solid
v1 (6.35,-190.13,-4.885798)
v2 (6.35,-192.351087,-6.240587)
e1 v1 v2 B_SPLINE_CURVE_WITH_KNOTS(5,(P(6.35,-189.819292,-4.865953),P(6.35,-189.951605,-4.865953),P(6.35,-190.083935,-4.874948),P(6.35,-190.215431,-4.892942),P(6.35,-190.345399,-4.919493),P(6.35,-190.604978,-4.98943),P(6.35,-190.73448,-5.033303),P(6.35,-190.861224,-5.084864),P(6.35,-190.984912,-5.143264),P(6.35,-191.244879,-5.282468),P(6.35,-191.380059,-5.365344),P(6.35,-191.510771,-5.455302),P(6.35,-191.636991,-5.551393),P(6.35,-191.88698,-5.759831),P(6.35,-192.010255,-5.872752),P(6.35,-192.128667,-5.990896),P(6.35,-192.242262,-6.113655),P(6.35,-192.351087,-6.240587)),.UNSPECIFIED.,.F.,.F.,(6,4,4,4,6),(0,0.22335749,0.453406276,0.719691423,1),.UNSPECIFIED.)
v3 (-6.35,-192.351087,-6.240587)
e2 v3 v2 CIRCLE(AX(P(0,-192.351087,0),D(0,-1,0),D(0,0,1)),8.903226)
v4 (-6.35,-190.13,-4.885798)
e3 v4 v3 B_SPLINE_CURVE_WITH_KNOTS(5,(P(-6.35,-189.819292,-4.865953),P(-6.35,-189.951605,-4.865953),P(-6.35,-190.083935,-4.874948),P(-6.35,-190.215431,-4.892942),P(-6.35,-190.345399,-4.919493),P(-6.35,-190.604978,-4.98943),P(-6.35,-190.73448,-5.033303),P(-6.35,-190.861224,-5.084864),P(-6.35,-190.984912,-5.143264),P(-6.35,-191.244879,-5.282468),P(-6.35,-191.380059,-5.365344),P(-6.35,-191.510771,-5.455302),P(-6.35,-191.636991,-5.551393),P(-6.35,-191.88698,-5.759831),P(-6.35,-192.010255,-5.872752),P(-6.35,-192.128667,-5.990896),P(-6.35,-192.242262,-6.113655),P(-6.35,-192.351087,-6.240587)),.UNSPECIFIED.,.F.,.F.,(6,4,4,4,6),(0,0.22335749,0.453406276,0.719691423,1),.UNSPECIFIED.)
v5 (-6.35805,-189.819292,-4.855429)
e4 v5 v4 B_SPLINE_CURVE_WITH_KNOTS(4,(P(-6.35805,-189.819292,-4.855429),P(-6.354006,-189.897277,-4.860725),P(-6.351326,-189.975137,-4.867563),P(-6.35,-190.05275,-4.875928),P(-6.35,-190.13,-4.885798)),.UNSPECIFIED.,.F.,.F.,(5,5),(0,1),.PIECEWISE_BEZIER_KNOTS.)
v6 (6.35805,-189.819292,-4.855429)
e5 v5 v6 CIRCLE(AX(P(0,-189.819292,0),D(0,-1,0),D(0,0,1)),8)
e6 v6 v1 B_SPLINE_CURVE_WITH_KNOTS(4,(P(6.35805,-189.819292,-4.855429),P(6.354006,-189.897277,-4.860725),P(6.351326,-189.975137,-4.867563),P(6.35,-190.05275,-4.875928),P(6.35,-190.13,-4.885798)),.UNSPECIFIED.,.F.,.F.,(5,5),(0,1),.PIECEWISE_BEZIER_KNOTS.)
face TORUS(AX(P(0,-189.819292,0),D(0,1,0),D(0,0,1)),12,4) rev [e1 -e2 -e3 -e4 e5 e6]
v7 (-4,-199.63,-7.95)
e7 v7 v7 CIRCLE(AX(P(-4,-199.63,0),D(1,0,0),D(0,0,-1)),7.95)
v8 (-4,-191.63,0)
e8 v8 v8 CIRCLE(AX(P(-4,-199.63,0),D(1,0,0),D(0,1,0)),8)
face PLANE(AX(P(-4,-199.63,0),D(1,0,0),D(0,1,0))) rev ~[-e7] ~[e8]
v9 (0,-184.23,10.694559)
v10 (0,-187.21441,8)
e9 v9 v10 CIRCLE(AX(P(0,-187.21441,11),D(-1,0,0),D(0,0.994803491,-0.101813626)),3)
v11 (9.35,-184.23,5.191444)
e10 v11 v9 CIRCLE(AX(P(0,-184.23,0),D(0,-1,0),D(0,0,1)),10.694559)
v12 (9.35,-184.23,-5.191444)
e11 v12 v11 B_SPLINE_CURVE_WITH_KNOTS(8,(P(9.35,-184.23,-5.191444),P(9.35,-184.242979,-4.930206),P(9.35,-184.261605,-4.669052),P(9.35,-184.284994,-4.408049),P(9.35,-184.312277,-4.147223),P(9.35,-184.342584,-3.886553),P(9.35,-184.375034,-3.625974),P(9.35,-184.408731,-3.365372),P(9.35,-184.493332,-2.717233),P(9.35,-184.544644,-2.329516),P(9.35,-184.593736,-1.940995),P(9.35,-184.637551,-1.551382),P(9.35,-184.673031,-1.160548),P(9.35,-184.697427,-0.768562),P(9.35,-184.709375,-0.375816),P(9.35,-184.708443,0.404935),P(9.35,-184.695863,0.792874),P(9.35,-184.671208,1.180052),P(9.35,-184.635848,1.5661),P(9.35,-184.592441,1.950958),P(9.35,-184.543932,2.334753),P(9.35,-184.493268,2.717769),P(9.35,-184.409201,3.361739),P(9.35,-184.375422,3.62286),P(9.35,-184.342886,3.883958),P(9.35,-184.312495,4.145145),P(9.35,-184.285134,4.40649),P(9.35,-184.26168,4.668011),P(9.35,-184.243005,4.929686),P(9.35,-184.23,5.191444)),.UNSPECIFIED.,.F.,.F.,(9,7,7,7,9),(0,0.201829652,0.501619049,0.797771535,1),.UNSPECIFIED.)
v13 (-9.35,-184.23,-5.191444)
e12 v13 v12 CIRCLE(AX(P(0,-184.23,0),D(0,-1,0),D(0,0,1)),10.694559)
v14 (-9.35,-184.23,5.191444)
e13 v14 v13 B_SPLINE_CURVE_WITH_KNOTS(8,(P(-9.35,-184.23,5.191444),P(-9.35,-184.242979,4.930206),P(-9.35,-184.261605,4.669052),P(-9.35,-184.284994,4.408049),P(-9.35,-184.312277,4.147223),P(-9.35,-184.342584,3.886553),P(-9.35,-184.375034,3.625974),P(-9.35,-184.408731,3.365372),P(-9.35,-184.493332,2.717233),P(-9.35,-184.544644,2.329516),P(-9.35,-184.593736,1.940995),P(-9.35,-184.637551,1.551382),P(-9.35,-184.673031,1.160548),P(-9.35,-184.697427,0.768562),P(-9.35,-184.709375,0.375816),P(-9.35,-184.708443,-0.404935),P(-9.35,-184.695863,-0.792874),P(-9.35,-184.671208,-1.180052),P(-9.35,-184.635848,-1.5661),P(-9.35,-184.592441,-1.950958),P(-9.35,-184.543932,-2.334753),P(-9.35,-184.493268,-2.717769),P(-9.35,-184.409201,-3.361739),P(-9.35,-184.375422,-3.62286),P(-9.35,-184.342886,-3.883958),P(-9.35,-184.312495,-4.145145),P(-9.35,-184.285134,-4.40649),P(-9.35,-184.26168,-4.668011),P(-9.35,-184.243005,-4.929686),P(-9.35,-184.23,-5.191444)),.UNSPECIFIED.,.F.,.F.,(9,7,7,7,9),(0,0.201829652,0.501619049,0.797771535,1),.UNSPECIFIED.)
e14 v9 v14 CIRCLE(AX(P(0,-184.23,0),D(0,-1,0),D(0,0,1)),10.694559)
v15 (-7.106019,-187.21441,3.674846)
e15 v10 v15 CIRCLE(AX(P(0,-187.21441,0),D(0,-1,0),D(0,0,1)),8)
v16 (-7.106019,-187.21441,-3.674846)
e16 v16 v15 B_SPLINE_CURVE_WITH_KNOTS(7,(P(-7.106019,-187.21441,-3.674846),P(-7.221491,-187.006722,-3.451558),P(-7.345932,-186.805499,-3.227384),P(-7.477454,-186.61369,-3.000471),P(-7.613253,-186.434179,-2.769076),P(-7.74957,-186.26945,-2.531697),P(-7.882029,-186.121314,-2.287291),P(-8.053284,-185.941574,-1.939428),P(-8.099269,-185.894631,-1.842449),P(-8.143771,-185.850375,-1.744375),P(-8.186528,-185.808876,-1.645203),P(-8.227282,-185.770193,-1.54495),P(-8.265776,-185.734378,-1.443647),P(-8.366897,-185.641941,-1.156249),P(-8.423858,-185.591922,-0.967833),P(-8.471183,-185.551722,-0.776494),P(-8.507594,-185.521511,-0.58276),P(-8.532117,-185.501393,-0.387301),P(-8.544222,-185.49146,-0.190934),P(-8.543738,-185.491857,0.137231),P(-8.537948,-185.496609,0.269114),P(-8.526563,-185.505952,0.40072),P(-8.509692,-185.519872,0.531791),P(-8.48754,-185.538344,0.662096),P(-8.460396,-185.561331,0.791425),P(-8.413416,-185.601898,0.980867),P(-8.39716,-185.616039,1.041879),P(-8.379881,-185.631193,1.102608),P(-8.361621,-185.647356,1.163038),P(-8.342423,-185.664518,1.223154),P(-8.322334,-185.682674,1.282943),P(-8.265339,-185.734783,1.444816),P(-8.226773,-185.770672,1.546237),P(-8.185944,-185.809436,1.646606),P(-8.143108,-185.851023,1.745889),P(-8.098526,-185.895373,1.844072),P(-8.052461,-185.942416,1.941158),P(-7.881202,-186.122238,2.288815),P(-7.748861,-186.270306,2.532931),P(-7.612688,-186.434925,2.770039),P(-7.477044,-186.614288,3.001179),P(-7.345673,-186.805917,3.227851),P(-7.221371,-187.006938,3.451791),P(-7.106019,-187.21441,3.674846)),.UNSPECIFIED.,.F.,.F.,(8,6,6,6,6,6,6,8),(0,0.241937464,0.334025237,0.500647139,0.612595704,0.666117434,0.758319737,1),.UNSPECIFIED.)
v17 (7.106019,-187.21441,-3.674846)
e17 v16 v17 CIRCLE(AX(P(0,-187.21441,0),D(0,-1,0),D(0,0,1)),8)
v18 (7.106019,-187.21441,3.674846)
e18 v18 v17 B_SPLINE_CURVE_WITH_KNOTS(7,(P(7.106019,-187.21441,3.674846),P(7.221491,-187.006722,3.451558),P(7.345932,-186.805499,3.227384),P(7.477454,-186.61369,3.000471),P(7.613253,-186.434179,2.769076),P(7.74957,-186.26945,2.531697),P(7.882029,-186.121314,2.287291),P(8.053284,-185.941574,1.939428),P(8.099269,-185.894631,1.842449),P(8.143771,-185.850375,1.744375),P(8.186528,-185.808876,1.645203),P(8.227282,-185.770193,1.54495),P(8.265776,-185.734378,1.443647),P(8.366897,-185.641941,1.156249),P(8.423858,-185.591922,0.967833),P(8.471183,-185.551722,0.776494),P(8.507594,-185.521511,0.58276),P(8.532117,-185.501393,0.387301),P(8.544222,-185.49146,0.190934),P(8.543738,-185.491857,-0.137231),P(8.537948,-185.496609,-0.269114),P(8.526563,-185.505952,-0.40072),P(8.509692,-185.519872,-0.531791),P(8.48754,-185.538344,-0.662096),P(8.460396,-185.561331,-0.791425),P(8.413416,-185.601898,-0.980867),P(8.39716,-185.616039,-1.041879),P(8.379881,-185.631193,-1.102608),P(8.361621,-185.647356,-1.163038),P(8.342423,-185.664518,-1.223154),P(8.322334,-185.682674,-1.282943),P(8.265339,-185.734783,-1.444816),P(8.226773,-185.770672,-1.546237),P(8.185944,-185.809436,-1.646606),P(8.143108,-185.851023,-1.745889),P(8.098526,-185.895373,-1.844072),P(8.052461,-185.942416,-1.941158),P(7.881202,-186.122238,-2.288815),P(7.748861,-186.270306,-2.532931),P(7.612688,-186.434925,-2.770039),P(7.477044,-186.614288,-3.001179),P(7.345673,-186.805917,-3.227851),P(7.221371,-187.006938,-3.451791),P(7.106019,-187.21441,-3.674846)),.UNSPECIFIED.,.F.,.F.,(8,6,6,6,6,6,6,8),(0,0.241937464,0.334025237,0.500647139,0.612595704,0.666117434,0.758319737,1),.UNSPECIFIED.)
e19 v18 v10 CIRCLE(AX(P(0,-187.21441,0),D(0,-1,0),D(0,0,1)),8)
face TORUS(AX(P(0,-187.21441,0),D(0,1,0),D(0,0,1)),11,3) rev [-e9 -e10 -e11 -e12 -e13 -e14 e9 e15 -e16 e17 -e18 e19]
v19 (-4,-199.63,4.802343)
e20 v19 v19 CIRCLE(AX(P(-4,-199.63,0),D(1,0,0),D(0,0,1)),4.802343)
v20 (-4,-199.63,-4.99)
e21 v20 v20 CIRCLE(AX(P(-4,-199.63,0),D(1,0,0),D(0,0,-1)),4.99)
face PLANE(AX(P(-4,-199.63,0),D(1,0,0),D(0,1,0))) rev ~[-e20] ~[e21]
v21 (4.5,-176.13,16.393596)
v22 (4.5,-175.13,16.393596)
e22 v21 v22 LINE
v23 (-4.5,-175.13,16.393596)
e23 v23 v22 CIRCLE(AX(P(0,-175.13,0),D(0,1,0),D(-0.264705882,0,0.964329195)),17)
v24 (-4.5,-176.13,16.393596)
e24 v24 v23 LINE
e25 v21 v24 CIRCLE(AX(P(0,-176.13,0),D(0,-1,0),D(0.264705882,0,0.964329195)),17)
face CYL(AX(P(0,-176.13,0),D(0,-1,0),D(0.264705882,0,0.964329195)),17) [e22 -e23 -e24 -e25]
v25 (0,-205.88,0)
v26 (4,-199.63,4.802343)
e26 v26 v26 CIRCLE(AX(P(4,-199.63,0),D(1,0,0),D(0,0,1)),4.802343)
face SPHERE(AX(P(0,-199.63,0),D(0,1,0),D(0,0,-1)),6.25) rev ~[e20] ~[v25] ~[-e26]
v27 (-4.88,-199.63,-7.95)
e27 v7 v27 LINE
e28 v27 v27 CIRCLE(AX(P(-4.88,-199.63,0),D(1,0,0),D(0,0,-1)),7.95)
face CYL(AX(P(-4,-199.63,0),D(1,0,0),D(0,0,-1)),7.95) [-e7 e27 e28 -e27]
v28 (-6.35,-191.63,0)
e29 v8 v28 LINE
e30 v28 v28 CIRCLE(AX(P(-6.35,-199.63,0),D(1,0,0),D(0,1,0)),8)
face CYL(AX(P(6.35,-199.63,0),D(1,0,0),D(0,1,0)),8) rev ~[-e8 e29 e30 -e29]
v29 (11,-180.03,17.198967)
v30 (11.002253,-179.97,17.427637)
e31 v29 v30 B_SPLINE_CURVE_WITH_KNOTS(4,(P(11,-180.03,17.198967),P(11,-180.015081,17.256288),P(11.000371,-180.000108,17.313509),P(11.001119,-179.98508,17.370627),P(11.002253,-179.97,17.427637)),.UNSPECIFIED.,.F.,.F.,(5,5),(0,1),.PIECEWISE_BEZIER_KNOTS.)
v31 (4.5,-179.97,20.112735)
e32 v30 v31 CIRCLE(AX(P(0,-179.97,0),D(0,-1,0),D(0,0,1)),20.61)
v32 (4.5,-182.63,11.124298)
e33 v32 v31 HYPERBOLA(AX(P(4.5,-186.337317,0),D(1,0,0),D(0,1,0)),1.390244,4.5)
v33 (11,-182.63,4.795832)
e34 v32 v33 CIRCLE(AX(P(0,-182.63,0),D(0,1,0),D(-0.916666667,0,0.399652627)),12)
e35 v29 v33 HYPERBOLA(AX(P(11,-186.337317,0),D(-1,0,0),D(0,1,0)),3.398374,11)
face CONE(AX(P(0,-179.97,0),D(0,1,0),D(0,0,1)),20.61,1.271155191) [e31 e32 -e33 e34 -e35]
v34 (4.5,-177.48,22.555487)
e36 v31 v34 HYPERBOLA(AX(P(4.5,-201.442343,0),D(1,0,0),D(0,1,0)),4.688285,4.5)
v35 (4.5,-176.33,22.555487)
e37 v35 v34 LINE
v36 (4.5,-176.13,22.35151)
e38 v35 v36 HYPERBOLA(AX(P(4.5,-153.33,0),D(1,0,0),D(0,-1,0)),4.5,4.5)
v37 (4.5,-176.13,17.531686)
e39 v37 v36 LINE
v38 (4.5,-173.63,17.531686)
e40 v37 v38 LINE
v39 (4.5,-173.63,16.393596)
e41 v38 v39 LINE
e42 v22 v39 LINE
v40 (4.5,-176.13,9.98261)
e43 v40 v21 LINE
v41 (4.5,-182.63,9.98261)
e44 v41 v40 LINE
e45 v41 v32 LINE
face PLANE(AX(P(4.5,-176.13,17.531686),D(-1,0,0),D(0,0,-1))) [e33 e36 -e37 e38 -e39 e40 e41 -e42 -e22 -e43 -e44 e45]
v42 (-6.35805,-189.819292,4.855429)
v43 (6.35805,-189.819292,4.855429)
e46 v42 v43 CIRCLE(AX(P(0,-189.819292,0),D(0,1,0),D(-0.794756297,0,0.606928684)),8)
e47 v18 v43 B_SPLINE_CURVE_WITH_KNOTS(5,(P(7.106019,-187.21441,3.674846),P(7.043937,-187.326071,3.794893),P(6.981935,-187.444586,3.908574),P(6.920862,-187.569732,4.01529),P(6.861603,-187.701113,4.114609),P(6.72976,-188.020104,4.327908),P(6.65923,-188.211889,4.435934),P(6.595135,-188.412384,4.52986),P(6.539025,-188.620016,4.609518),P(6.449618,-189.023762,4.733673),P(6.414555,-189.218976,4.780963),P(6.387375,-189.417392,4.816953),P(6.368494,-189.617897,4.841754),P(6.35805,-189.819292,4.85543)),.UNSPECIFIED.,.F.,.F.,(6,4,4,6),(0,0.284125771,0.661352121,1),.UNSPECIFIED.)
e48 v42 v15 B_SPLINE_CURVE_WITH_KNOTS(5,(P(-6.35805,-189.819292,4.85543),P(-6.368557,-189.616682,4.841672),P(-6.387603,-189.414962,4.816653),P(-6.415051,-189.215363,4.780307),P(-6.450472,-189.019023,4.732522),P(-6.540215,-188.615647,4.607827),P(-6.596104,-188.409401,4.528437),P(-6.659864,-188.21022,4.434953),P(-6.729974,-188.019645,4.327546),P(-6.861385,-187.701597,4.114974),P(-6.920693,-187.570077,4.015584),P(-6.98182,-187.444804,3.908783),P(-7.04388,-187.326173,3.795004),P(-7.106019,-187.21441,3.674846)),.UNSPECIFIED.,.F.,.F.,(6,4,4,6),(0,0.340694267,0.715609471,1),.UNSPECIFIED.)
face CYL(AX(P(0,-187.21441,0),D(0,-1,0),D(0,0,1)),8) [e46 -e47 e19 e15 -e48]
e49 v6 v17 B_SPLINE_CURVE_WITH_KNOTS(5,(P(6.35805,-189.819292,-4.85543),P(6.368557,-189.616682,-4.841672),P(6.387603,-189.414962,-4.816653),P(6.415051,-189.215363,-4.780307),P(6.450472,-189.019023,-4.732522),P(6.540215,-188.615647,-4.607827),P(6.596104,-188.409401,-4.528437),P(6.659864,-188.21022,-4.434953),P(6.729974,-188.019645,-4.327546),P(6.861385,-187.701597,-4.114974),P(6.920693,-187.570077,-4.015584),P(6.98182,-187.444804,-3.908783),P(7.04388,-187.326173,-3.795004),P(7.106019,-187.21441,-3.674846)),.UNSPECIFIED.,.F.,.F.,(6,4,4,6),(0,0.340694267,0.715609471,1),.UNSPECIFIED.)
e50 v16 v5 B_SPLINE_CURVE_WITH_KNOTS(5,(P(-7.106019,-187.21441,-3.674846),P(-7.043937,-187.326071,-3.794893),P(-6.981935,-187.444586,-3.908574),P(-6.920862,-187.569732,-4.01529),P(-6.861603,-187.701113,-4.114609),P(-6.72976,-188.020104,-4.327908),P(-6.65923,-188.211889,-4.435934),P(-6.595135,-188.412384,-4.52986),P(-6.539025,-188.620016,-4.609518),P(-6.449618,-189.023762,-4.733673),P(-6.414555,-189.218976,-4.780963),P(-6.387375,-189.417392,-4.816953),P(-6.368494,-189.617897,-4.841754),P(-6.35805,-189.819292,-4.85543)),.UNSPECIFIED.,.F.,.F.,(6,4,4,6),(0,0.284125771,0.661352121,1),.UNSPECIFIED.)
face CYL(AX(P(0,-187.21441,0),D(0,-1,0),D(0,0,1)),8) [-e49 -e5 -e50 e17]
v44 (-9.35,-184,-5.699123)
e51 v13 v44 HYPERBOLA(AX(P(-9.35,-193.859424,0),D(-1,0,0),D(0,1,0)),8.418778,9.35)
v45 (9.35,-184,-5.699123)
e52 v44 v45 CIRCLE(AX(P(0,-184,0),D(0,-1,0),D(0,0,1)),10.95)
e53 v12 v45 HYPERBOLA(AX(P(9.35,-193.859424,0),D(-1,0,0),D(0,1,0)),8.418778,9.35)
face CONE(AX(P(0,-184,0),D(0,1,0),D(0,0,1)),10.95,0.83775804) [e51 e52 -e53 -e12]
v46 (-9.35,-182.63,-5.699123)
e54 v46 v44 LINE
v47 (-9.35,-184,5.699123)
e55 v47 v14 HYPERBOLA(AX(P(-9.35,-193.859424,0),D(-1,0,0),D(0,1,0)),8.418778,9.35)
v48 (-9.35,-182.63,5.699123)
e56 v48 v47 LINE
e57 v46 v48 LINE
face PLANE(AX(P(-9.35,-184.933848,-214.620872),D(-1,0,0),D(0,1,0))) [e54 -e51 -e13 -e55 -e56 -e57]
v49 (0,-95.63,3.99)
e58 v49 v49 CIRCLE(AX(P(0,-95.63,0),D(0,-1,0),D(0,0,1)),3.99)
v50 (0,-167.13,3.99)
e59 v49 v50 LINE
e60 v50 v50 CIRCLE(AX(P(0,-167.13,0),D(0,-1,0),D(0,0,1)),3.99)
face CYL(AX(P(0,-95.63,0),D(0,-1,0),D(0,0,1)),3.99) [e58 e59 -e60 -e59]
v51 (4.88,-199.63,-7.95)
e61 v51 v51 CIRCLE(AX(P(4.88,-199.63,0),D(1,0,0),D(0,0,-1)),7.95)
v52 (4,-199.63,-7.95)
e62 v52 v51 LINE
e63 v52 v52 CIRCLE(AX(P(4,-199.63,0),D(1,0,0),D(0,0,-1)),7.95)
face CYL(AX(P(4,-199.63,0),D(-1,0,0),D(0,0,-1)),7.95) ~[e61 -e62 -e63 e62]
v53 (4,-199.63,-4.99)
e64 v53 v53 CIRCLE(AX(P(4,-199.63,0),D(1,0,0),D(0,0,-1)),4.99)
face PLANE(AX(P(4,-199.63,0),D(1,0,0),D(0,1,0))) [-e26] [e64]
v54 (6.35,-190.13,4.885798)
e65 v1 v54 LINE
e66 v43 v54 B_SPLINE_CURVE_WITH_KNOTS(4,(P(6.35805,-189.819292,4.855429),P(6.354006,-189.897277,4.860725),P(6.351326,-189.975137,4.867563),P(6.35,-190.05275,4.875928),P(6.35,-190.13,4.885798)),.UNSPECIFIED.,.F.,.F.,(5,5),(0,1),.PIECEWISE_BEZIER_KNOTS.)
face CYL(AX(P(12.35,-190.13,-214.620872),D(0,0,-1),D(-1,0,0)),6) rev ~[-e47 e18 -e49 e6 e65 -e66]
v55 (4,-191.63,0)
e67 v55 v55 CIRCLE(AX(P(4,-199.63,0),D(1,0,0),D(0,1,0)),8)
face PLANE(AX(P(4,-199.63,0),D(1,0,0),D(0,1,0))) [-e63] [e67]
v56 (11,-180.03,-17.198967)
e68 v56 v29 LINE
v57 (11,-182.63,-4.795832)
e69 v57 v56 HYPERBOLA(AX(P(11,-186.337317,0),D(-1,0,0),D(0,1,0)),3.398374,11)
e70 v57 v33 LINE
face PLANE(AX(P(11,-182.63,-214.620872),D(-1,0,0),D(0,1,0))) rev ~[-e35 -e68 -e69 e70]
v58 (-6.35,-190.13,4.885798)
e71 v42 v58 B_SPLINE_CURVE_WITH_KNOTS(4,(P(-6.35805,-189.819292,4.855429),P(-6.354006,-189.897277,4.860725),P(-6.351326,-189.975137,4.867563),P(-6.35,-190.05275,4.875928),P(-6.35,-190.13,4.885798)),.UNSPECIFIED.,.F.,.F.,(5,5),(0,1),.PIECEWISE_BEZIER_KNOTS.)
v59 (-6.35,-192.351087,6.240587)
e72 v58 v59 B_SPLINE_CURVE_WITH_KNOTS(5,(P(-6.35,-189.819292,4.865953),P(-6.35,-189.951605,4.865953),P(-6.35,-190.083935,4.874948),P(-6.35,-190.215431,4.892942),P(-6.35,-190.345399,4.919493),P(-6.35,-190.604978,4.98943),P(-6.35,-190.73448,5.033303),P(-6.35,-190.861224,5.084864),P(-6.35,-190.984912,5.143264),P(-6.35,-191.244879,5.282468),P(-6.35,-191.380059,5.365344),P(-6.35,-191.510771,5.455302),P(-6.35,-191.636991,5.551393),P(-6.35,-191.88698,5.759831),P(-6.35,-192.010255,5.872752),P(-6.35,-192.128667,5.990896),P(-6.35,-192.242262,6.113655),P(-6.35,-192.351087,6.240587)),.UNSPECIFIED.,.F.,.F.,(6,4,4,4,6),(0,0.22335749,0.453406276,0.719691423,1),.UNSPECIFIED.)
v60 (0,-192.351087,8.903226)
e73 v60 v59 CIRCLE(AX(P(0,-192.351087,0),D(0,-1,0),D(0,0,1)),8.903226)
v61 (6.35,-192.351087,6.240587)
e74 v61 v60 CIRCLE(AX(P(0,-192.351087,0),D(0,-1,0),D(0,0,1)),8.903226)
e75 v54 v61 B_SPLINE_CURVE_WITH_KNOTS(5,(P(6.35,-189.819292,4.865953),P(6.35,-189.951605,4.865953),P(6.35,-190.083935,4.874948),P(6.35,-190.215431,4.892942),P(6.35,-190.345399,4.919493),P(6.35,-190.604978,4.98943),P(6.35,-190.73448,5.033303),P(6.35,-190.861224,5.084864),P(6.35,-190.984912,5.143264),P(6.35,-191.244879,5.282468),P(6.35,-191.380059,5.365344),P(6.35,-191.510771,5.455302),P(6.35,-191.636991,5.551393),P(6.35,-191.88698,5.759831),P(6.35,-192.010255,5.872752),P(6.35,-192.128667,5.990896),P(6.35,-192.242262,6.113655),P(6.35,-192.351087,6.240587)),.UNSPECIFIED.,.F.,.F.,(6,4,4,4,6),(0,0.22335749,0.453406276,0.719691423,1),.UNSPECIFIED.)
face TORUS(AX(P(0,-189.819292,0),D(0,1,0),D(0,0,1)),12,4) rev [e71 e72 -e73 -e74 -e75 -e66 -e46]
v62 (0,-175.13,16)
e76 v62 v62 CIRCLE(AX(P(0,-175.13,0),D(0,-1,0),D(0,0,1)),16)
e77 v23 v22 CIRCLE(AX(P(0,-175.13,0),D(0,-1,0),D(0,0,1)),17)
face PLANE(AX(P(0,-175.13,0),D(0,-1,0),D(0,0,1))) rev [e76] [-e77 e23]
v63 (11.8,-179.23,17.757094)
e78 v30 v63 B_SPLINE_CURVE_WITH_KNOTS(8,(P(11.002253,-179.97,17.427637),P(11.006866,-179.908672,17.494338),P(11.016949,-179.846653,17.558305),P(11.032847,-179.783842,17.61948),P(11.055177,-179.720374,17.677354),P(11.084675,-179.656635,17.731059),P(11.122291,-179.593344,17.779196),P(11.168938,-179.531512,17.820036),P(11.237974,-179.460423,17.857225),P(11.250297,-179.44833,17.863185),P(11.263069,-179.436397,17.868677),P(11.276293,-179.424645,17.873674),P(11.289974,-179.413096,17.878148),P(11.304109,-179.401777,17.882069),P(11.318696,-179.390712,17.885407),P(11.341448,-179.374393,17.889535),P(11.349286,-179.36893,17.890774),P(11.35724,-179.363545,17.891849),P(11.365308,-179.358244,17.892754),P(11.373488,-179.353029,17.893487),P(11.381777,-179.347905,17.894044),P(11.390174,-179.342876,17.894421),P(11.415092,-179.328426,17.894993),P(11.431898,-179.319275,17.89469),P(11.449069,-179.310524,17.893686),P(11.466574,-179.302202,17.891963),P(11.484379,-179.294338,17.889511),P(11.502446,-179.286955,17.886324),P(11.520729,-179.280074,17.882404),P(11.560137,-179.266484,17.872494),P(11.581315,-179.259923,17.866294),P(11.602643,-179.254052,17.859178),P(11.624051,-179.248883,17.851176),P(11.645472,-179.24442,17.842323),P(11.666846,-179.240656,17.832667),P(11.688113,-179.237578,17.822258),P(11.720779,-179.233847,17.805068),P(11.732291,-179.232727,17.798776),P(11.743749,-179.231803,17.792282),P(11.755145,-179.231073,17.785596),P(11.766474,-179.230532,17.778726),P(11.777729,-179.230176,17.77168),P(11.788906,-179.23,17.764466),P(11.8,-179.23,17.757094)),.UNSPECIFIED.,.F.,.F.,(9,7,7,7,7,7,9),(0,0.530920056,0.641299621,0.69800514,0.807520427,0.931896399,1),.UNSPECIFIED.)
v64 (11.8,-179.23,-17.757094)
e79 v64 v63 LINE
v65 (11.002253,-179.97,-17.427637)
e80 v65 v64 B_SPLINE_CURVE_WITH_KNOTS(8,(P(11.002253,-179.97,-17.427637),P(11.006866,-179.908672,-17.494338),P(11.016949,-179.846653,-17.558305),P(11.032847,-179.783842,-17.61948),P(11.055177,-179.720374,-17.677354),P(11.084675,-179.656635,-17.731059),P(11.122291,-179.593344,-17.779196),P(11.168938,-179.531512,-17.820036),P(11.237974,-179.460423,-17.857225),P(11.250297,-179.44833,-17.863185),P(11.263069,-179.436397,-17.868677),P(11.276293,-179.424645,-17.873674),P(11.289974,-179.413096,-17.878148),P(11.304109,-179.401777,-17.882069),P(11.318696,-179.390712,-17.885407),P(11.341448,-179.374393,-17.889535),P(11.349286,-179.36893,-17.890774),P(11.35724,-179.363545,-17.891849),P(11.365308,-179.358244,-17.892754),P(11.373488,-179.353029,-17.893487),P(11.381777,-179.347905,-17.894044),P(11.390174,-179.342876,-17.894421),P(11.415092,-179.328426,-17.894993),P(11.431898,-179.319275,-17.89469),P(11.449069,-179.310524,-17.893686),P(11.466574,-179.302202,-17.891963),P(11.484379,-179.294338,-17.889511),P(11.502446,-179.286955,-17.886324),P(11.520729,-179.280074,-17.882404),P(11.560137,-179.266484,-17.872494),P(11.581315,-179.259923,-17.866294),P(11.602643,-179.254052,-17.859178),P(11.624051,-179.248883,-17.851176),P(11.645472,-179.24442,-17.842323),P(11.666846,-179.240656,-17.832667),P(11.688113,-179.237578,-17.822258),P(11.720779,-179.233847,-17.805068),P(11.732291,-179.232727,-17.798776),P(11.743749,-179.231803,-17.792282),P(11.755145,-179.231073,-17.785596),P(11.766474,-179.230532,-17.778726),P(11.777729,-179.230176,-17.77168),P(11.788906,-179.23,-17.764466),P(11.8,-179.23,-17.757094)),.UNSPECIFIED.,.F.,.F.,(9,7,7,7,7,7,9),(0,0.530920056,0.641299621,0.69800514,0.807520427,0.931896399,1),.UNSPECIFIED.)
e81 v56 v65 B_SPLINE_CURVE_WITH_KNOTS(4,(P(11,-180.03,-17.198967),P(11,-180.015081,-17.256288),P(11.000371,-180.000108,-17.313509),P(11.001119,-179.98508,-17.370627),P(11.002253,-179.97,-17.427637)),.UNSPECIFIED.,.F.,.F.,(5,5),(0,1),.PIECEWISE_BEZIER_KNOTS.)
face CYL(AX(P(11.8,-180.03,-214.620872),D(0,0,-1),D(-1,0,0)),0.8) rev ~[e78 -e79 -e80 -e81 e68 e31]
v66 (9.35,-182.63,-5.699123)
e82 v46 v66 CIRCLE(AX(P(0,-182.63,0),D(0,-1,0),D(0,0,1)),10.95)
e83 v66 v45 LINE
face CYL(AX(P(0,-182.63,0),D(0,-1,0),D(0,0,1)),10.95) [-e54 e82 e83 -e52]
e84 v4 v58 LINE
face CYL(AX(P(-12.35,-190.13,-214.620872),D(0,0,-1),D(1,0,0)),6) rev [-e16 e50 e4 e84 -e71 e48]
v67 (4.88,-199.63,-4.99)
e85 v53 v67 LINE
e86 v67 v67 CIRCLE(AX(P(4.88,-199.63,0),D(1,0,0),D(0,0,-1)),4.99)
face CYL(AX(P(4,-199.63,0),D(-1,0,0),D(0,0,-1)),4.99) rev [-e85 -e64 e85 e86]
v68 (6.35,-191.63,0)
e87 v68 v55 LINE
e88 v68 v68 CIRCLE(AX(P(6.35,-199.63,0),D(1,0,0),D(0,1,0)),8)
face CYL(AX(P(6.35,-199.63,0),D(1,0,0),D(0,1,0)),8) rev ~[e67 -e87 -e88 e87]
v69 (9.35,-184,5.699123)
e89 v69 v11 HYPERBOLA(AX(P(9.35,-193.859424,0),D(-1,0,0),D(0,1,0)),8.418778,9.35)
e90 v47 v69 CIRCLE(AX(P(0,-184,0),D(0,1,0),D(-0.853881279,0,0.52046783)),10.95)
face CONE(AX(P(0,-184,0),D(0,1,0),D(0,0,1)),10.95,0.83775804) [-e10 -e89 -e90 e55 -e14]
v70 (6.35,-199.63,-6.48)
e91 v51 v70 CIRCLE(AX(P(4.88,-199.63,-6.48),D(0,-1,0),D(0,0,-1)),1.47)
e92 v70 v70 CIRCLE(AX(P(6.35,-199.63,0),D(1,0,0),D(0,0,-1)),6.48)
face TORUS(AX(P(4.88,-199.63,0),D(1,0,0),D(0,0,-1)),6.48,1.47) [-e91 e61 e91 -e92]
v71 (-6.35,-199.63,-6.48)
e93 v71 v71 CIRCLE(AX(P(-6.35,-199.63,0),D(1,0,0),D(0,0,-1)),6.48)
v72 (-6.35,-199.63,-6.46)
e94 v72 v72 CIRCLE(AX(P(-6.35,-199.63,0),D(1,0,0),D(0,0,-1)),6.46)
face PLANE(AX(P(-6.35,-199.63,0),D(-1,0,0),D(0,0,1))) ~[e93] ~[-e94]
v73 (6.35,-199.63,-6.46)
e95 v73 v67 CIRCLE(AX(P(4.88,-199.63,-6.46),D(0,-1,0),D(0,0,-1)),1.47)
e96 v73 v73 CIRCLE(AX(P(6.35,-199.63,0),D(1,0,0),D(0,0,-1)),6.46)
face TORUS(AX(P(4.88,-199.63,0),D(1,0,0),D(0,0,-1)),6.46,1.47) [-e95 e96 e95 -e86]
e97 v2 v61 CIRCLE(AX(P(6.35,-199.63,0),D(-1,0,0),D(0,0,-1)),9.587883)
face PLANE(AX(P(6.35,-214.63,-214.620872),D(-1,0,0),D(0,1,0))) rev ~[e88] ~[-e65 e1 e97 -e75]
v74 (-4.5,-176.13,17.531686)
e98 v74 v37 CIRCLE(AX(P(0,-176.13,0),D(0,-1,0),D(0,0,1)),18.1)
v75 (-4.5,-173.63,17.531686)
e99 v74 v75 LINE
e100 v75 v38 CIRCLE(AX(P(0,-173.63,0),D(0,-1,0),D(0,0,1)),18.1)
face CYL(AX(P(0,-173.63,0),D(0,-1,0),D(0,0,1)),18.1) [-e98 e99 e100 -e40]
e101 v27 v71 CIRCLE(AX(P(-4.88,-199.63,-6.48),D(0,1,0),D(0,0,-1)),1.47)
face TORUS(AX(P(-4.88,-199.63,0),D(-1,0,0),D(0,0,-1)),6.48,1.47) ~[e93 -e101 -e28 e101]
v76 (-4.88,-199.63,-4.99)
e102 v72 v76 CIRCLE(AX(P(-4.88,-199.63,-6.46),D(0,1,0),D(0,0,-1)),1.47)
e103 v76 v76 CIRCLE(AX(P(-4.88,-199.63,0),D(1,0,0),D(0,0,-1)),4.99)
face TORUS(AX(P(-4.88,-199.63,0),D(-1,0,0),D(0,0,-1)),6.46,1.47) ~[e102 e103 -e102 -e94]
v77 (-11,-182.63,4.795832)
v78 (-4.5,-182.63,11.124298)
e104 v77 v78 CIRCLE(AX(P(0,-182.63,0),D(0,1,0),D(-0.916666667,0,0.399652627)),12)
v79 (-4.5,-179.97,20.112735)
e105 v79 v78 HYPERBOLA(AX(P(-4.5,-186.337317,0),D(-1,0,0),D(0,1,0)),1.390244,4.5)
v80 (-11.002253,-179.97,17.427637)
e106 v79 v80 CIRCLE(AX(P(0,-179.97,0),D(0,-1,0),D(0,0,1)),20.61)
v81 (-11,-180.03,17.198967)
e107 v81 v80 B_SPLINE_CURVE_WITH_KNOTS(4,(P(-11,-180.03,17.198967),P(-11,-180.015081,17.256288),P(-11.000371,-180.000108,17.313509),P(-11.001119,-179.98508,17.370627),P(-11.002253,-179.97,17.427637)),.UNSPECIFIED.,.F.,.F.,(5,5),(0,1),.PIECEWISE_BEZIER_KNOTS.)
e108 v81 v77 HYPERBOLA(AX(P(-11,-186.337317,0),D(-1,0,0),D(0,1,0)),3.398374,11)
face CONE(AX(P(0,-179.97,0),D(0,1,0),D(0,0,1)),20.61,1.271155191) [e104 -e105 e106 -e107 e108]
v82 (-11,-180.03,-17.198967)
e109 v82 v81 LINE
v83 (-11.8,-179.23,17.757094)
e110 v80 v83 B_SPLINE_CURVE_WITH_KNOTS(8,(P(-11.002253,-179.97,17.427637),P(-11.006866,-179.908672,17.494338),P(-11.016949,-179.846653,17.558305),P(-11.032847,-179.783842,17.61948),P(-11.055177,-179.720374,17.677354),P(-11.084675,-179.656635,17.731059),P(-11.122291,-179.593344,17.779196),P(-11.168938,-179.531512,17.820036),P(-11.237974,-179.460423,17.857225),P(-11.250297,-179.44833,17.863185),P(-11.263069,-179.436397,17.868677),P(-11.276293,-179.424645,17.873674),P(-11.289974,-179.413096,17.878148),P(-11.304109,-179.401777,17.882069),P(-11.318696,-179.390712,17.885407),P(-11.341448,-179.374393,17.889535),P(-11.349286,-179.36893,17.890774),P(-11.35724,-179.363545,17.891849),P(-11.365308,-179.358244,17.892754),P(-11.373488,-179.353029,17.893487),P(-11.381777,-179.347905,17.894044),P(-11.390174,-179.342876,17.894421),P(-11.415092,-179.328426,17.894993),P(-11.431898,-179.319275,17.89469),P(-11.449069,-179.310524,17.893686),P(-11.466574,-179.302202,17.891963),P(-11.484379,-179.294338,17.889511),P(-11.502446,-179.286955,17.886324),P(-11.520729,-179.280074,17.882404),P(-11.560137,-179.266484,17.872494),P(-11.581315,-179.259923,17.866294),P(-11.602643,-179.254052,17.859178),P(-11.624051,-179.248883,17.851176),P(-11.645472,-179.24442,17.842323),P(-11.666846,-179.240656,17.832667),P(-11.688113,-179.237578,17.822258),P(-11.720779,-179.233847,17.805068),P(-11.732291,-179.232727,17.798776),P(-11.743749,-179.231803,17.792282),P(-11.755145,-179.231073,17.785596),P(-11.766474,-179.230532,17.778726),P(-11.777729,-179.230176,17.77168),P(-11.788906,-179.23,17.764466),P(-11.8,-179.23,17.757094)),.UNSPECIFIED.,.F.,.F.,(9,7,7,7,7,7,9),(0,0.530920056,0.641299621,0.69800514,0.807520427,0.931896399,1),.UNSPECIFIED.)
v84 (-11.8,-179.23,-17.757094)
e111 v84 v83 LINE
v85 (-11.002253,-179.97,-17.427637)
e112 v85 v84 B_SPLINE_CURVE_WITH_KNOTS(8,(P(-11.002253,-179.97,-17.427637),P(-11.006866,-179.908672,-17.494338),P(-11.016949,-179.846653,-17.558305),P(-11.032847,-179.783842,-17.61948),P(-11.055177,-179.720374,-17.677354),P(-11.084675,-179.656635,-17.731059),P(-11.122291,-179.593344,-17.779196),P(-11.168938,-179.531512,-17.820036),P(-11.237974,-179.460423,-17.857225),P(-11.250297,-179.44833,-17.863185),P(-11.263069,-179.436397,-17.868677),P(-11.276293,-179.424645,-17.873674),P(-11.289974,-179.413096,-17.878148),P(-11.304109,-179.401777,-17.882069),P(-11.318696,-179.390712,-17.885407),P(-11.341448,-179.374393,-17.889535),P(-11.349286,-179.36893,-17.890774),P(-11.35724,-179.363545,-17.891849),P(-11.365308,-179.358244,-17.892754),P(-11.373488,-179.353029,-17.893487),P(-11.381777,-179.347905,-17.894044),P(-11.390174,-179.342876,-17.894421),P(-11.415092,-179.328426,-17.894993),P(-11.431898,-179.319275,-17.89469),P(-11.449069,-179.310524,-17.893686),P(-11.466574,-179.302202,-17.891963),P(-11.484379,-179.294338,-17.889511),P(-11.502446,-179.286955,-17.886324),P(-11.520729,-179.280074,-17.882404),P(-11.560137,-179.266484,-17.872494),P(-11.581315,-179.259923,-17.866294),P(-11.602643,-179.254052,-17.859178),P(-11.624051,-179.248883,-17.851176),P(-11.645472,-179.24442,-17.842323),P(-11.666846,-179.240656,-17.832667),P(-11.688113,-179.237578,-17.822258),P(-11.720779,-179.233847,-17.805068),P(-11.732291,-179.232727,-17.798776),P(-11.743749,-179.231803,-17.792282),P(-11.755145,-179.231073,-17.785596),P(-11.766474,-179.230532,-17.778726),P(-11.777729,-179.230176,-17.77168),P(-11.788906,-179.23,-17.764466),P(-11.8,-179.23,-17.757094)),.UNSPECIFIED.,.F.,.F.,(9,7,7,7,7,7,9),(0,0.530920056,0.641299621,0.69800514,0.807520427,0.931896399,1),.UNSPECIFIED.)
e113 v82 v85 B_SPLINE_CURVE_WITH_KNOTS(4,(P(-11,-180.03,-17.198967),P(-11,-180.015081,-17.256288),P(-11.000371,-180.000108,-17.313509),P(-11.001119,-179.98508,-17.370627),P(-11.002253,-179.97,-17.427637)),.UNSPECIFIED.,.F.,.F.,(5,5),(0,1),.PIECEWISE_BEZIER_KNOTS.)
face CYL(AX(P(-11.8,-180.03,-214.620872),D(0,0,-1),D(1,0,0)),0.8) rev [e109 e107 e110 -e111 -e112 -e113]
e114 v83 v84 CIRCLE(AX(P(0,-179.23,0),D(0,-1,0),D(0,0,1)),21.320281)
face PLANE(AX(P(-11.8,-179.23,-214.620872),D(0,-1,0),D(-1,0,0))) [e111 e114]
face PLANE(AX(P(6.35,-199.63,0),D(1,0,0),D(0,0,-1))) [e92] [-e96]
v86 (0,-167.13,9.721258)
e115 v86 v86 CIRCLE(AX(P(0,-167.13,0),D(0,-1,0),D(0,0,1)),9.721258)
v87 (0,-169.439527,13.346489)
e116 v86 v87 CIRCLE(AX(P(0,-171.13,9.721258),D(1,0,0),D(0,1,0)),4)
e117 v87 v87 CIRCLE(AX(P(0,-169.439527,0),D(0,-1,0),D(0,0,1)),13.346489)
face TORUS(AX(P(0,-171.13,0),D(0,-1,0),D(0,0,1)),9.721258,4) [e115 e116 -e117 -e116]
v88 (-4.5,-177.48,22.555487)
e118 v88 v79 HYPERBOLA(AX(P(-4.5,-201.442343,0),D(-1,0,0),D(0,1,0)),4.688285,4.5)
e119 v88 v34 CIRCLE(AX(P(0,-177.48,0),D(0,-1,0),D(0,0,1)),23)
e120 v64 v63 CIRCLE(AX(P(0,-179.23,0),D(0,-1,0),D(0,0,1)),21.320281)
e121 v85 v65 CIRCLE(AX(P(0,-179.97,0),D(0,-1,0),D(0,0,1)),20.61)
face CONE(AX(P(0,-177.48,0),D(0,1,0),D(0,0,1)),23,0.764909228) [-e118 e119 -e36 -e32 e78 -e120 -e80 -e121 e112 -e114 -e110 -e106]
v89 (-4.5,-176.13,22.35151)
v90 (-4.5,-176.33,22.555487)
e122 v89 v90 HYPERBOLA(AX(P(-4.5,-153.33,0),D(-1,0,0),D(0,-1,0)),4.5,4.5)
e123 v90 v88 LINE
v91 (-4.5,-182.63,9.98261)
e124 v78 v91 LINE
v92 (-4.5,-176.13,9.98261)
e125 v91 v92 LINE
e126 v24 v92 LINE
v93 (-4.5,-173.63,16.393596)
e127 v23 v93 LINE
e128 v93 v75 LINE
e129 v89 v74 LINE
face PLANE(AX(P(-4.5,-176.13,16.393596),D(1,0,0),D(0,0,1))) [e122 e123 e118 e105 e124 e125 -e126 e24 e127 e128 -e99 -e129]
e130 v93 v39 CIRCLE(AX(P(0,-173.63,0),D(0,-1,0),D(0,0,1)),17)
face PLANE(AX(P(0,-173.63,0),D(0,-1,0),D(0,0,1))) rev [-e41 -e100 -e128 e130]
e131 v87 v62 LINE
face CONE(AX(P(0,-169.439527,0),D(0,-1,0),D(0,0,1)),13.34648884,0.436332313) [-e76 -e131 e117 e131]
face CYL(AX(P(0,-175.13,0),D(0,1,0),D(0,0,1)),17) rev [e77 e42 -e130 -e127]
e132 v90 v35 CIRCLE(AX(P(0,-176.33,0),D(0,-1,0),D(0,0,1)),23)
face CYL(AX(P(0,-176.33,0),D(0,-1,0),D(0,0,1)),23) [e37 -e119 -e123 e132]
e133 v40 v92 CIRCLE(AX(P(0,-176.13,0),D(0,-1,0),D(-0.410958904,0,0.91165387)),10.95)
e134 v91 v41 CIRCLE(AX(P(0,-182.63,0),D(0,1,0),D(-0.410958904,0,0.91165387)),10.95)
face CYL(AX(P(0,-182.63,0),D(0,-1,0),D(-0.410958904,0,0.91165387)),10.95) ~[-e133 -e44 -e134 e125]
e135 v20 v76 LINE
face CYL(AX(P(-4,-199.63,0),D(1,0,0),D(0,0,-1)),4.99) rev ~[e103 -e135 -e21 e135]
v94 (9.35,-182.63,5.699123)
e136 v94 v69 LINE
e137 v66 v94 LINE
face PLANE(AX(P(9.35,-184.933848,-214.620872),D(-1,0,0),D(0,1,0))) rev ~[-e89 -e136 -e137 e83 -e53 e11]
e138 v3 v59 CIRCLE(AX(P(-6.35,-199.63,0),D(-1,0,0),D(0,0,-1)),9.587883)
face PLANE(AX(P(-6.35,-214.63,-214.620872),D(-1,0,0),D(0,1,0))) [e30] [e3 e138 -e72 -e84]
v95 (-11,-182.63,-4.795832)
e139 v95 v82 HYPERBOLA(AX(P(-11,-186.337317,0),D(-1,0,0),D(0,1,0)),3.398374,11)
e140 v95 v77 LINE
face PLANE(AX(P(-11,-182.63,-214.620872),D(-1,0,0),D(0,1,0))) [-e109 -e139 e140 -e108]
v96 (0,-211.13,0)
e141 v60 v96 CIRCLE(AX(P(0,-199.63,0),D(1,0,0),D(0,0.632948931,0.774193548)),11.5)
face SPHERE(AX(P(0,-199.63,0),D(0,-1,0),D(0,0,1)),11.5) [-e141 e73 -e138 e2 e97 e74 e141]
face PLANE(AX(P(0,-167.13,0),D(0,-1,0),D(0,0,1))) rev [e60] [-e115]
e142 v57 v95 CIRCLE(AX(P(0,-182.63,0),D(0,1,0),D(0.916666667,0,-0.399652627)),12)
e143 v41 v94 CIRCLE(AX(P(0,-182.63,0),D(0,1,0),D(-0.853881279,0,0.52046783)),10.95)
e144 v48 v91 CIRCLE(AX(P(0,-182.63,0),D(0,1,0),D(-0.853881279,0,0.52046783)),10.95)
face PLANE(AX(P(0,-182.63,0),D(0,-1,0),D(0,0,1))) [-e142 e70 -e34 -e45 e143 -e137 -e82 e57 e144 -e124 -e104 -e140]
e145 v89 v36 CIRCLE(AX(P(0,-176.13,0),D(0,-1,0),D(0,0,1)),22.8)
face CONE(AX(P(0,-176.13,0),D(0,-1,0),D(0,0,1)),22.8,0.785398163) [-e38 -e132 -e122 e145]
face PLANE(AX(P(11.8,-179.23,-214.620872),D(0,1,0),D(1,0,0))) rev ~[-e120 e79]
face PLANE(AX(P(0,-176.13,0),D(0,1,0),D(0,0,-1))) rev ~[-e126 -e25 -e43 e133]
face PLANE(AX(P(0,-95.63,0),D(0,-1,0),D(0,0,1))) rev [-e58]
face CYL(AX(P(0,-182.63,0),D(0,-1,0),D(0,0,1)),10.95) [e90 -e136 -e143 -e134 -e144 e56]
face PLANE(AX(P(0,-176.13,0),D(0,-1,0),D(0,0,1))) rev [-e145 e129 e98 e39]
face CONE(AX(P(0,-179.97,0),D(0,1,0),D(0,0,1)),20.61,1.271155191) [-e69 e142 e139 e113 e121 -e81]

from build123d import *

# Parameters (mm, degrees)
CUT_EXTRUDE6_DEPTH      = 214.620871874
CUT_EXTRUDE6_DEPTH_BACK = 214.620871874
CUT_EXTRUDE7_REACH      = 94.882
CUT_EXTRUDE8_DEPTH      = 2.5
SKETCH5_R               = 8
CUT_EXTRUDE9_DEPTH      = 215.397526596
SKETCH6_R               = 8
BOSS_EXTRUDE1_DEPTH     = 4
SKETCH7_R               = 7.95
SKETCH7_R_2             = 4.99
BOSS_EXTRUDE2_DEPTH     = 2.35
FILLET1_R               = 1.47
FILLET1_OF_MIRROR1_R    = 1.47


with BuildPart() as part:
    # Sketch1 → Revolve1 (revolve)
    with BuildSketch(Plane(origin=(0, 0, 0), x_dir=(0, 0, -1), z_dir=(1, 0, 0)), mode=Mode.PRIVATE) as revolve1_sk:
        with BuildLine():
            Line((0, -95.63), (3.99, -95.63))
            Line((3.99, -95.63), (3.99, -167.13))
            Line((3.99, -167.13), (9.721257692, -167.13))
            ThreePointArc((9.721257692, -167.13), (11.870456125, -167.756434217), (13.34648884, -169.439526953))
            Line((13.34648884, -169.439526953), (16, -175.13))
            Line((16, -175.13), (17, -175.13))
            Line((17, -175.13), (17, -173.63))
            Line((17, -173.63), (18.1, -173.63))
            Line((18.1, -173.63), (18.1, -176.13))
            Line((18.1, -176.13), (22.8, -176.13))
            Line((22.8, -176.13), (23, -176.33))
            Line((23, -176.33), (23, -177.48))
            Line((23, -177.48), (20.61, -179.97))
            Line((20.61, -179.97), (12, -182.63))
            Line((12, -182.63), (10.95, -182.63))
            Line((10.95, -182.63), (10.95, -184))
            Line((10.95, -184), (10.694559122, -184.23))
            ThreePointArc((10.694559122, -184.23), (8.77330709, -185.203978011), (8, -187.214410473))
            Line((8, -187.214410473), (8, -189.819291565))
            ThreePointArc((8, -189.819291565), (8.232567401, -191.163334575), (8.903225806, -192.35108729))
            ThreePointArc((8.903225806, -192.35108729), (10.391282312, -204.556586234), (0, -211.13))
            Line((0, -211.13), (0, -95.63))
        make_face()
    revolve(revolve1_sk.sketch.rotate(Axis((0, 0, 0), (0, -1, 0)), 180), axis=Axis((0, 0, 0), (0, -1, 0)))

    # Sketch2 → Cut-Extrude6 (cut, two sides: drawn at the far end of the back side and taken through both)
    with BuildSketch(Plane.XY.offset(-CUT_EXTRUDE6_DEPTH_BACK)):
        with BuildLine():
            Line((6.35, -209.217882978), (6.35, -190.13))
            ThreePointArc((6.35, -190.13), (7.153847577, -187.13), (9.35, -184.933847577))
            Line((9.35, -184.933847577), (9.35, -182.63))
            Line((9.35, -182.63), (11, -182.63))
            Line((11, -182.63), (11, -180.03))
            ThreePointArc((11, -180.03), (11.234314575, -179.464314575), (11.8, -179.23))
            Line((11.8, -179.23), (22.5, -179.23))
            Line((22.5, -179.23), (22.5, -214.63))
            Line((22.5, -214.63), (6.35, -214.63))
            Line((6.35, -214.63), (6.35, -209.217882978))
        make_face()
        with BuildLine():
            Line((-6.35, -214.63), (-6.35, -209.217882978))
            Line((-6.35, -209.217882978), (-6.35, -190.13))
            ThreePointArc((-6.35, -190.13), (-7.153847577, -187.13), (-9.35, -184.933847577))
            Line((-9.35, -184.933847577), (-9.35, -182.63))
            Line((-9.35, -182.63), (-11, -182.63))
            Line((-11, -182.63), (-11, -180.03))
            ThreePointArc((-11, -180.03), (-11.234314575, -179.464314575), (-11.8, -179.23))
            Line((-11.8, -179.23), (-22.5, -179.23))
            Line((-22.5, -179.23), (-22.5, -214.63))
            Line((-22.5, -214.63), (-6.35, -214.63))
        make_face()
    extrude(amount=CUT_EXTRUDE6_DEPTH + CUT_EXTRUDE6_DEPTH_BACK, mode=Mode.SUBTRACT)

    # Cut-Extrude7: up to this face of the body (flat: up to its plane)
    cut_extrude7_end = Plane(part.part.faces().sort_by_distance((0, -176.13, -18.744881384))[0])
    # Sketch3 → Cut-Extrude7 (cut, up to the picked face)
    with BuildSketch(Plane.XZ.offset(182.63), mode=Mode.PRIVATE) as cut_extrude7_sk1:
        with BuildLine():
            Line((4.5, 9.982609879), (4.5, 28.284063509))
            Line((4.5, 28.284063509), (-4.5, 28.284063509))
            Line((-4.5, 28.284063509), (-4.5, 9.982609879))
            ThreePointArc((-4.5, 9.982609879), (0, 10.95), (4.5, 9.982609879))
        make_face()
    cut_extrude7_tool1 = split(extrude(cut_extrude7_sk1.sketch, amount=-CUT_EXTRUDE7_REACH, mode=Mode.PRIVATE), bisect_by=cut_extrude7_end, keep=Keep.BOTH, mode=Mode.PRIVATE)
    add(cut_extrude7_tool1.solids().sort_by(Axis((0, -182.63, 19.456437), (0, 1, 0)))[0], mode=Mode.SUBTRACT)

    # Sketch4 → Cut-Extrude8 (cut)
    with BuildSketch(Plane(origin=(0, -176.13, 0), x_dir=(1, 0, 0), z_dir=(0, 1, 0))):
        with BuildLine():
            Line((-4.5, -16.393596311), (-4.5, -17.531685601))
            ThreePointArc((-4.5, -17.531685601), (0, -18.1), (4.5, -17.531685601))
            Line((4.5, -17.531685601), (4.5, -16.393596311))
            ThreePointArc((4.5, -16.393596311), (0, -17), (-4.5, -16.393596311))
        make_face()
    extrude(amount=CUT_EXTRUDE8_DEPTH, mode=Mode.SUBTRACT)

    # Sketch5 → Cut-Extrude9 (cut, through all)
    with BuildSketch(Plane(origin=(6.35, 0, 0), x_dir=(0, 0, -1), z_dir=(1, 0, 0))):
        with Locations(Location((0, -199.63, 0), (0, 0, 90))):
            Circle(SKETCH5_R)
    extrude(amount=-CUT_EXTRUDE9_DEPTH, mode=Mode.SUBTRACT)

    # Sketch6 → Boss-Extrude1 (add, symmetric)
    with BuildSketch(Plane(origin=(0, 0, 0), x_dir=(0, 0, -1), z_dir=(1, 0, 0))):
        with Locations(Location((0, -199.63, 0), (0, 0, 90))):
            Circle(SKETCH6_R)
    extrude(amount=BOSS_EXTRUDE1_DEPTH, both=True)

    # Sketch7 → Boss-Extrude2 (add)
    with BuildSketch(Plane(origin=(4, 0, 0), x_dir=(0, 0, -1), z_dir=(1, 0, 0))):
        with Locations((0, -199.63)):
            Circle(SKETCH7_R)
        with Locations((0, -199.63)):
            Circle(SKETCH7_R_2, mode=Mode.SUBTRACT)
    boss_extrude2 = extrude(amount=BOSS_EXTRUDE2_DEPTH)

    # Fillet1
    fillet1_edges = [part.edges().sort_by_distance(p)[0] for p in [
        (6.35, -199.63, 7.95),
        (6.35, -199.63, 4.99),
    ]]
    fillet(fillet1_edges, radius=FILLET1_R)

    # Mirror1: Boss-Extrude2 across plane
    add(boss_extrude2.mirror(Plane(origin=(0, 0, 0), x_dir=(0, 0, 1), z_dir=(1, 0, 0))))

    # Fillet1 of Mirror1
    fillet1_of_mirror1_edges = [part.edges().sort_by_distance(p)[0] for p in [
        (-6.35, -199.63, 7.95),
        (-6.35, -199.63, 4.99),
    ]]
    fillet(fillet1_of_mirror1_edges, radius=FILLET1_OF_MIRROR1_R)

    # Sketch8 → Cut-Revolve1 (revolve, cut)
    with BuildSketch(Plane(origin=(0, 0, 0), x_dir=(0, 0, -1), z_dir=(1, 0, 0))):
        with BuildLine():
            Line((0, -193.38), (0, -205.88))
            ThreePointArc((0, -205.88), (6.25, -199.63), (0, -193.38))
        make_face()
    revolve(axis=Axis((0, -211.13, 0), (0, 1, 0)), mode=Mode.SUBTRACT)


solid = part.part
